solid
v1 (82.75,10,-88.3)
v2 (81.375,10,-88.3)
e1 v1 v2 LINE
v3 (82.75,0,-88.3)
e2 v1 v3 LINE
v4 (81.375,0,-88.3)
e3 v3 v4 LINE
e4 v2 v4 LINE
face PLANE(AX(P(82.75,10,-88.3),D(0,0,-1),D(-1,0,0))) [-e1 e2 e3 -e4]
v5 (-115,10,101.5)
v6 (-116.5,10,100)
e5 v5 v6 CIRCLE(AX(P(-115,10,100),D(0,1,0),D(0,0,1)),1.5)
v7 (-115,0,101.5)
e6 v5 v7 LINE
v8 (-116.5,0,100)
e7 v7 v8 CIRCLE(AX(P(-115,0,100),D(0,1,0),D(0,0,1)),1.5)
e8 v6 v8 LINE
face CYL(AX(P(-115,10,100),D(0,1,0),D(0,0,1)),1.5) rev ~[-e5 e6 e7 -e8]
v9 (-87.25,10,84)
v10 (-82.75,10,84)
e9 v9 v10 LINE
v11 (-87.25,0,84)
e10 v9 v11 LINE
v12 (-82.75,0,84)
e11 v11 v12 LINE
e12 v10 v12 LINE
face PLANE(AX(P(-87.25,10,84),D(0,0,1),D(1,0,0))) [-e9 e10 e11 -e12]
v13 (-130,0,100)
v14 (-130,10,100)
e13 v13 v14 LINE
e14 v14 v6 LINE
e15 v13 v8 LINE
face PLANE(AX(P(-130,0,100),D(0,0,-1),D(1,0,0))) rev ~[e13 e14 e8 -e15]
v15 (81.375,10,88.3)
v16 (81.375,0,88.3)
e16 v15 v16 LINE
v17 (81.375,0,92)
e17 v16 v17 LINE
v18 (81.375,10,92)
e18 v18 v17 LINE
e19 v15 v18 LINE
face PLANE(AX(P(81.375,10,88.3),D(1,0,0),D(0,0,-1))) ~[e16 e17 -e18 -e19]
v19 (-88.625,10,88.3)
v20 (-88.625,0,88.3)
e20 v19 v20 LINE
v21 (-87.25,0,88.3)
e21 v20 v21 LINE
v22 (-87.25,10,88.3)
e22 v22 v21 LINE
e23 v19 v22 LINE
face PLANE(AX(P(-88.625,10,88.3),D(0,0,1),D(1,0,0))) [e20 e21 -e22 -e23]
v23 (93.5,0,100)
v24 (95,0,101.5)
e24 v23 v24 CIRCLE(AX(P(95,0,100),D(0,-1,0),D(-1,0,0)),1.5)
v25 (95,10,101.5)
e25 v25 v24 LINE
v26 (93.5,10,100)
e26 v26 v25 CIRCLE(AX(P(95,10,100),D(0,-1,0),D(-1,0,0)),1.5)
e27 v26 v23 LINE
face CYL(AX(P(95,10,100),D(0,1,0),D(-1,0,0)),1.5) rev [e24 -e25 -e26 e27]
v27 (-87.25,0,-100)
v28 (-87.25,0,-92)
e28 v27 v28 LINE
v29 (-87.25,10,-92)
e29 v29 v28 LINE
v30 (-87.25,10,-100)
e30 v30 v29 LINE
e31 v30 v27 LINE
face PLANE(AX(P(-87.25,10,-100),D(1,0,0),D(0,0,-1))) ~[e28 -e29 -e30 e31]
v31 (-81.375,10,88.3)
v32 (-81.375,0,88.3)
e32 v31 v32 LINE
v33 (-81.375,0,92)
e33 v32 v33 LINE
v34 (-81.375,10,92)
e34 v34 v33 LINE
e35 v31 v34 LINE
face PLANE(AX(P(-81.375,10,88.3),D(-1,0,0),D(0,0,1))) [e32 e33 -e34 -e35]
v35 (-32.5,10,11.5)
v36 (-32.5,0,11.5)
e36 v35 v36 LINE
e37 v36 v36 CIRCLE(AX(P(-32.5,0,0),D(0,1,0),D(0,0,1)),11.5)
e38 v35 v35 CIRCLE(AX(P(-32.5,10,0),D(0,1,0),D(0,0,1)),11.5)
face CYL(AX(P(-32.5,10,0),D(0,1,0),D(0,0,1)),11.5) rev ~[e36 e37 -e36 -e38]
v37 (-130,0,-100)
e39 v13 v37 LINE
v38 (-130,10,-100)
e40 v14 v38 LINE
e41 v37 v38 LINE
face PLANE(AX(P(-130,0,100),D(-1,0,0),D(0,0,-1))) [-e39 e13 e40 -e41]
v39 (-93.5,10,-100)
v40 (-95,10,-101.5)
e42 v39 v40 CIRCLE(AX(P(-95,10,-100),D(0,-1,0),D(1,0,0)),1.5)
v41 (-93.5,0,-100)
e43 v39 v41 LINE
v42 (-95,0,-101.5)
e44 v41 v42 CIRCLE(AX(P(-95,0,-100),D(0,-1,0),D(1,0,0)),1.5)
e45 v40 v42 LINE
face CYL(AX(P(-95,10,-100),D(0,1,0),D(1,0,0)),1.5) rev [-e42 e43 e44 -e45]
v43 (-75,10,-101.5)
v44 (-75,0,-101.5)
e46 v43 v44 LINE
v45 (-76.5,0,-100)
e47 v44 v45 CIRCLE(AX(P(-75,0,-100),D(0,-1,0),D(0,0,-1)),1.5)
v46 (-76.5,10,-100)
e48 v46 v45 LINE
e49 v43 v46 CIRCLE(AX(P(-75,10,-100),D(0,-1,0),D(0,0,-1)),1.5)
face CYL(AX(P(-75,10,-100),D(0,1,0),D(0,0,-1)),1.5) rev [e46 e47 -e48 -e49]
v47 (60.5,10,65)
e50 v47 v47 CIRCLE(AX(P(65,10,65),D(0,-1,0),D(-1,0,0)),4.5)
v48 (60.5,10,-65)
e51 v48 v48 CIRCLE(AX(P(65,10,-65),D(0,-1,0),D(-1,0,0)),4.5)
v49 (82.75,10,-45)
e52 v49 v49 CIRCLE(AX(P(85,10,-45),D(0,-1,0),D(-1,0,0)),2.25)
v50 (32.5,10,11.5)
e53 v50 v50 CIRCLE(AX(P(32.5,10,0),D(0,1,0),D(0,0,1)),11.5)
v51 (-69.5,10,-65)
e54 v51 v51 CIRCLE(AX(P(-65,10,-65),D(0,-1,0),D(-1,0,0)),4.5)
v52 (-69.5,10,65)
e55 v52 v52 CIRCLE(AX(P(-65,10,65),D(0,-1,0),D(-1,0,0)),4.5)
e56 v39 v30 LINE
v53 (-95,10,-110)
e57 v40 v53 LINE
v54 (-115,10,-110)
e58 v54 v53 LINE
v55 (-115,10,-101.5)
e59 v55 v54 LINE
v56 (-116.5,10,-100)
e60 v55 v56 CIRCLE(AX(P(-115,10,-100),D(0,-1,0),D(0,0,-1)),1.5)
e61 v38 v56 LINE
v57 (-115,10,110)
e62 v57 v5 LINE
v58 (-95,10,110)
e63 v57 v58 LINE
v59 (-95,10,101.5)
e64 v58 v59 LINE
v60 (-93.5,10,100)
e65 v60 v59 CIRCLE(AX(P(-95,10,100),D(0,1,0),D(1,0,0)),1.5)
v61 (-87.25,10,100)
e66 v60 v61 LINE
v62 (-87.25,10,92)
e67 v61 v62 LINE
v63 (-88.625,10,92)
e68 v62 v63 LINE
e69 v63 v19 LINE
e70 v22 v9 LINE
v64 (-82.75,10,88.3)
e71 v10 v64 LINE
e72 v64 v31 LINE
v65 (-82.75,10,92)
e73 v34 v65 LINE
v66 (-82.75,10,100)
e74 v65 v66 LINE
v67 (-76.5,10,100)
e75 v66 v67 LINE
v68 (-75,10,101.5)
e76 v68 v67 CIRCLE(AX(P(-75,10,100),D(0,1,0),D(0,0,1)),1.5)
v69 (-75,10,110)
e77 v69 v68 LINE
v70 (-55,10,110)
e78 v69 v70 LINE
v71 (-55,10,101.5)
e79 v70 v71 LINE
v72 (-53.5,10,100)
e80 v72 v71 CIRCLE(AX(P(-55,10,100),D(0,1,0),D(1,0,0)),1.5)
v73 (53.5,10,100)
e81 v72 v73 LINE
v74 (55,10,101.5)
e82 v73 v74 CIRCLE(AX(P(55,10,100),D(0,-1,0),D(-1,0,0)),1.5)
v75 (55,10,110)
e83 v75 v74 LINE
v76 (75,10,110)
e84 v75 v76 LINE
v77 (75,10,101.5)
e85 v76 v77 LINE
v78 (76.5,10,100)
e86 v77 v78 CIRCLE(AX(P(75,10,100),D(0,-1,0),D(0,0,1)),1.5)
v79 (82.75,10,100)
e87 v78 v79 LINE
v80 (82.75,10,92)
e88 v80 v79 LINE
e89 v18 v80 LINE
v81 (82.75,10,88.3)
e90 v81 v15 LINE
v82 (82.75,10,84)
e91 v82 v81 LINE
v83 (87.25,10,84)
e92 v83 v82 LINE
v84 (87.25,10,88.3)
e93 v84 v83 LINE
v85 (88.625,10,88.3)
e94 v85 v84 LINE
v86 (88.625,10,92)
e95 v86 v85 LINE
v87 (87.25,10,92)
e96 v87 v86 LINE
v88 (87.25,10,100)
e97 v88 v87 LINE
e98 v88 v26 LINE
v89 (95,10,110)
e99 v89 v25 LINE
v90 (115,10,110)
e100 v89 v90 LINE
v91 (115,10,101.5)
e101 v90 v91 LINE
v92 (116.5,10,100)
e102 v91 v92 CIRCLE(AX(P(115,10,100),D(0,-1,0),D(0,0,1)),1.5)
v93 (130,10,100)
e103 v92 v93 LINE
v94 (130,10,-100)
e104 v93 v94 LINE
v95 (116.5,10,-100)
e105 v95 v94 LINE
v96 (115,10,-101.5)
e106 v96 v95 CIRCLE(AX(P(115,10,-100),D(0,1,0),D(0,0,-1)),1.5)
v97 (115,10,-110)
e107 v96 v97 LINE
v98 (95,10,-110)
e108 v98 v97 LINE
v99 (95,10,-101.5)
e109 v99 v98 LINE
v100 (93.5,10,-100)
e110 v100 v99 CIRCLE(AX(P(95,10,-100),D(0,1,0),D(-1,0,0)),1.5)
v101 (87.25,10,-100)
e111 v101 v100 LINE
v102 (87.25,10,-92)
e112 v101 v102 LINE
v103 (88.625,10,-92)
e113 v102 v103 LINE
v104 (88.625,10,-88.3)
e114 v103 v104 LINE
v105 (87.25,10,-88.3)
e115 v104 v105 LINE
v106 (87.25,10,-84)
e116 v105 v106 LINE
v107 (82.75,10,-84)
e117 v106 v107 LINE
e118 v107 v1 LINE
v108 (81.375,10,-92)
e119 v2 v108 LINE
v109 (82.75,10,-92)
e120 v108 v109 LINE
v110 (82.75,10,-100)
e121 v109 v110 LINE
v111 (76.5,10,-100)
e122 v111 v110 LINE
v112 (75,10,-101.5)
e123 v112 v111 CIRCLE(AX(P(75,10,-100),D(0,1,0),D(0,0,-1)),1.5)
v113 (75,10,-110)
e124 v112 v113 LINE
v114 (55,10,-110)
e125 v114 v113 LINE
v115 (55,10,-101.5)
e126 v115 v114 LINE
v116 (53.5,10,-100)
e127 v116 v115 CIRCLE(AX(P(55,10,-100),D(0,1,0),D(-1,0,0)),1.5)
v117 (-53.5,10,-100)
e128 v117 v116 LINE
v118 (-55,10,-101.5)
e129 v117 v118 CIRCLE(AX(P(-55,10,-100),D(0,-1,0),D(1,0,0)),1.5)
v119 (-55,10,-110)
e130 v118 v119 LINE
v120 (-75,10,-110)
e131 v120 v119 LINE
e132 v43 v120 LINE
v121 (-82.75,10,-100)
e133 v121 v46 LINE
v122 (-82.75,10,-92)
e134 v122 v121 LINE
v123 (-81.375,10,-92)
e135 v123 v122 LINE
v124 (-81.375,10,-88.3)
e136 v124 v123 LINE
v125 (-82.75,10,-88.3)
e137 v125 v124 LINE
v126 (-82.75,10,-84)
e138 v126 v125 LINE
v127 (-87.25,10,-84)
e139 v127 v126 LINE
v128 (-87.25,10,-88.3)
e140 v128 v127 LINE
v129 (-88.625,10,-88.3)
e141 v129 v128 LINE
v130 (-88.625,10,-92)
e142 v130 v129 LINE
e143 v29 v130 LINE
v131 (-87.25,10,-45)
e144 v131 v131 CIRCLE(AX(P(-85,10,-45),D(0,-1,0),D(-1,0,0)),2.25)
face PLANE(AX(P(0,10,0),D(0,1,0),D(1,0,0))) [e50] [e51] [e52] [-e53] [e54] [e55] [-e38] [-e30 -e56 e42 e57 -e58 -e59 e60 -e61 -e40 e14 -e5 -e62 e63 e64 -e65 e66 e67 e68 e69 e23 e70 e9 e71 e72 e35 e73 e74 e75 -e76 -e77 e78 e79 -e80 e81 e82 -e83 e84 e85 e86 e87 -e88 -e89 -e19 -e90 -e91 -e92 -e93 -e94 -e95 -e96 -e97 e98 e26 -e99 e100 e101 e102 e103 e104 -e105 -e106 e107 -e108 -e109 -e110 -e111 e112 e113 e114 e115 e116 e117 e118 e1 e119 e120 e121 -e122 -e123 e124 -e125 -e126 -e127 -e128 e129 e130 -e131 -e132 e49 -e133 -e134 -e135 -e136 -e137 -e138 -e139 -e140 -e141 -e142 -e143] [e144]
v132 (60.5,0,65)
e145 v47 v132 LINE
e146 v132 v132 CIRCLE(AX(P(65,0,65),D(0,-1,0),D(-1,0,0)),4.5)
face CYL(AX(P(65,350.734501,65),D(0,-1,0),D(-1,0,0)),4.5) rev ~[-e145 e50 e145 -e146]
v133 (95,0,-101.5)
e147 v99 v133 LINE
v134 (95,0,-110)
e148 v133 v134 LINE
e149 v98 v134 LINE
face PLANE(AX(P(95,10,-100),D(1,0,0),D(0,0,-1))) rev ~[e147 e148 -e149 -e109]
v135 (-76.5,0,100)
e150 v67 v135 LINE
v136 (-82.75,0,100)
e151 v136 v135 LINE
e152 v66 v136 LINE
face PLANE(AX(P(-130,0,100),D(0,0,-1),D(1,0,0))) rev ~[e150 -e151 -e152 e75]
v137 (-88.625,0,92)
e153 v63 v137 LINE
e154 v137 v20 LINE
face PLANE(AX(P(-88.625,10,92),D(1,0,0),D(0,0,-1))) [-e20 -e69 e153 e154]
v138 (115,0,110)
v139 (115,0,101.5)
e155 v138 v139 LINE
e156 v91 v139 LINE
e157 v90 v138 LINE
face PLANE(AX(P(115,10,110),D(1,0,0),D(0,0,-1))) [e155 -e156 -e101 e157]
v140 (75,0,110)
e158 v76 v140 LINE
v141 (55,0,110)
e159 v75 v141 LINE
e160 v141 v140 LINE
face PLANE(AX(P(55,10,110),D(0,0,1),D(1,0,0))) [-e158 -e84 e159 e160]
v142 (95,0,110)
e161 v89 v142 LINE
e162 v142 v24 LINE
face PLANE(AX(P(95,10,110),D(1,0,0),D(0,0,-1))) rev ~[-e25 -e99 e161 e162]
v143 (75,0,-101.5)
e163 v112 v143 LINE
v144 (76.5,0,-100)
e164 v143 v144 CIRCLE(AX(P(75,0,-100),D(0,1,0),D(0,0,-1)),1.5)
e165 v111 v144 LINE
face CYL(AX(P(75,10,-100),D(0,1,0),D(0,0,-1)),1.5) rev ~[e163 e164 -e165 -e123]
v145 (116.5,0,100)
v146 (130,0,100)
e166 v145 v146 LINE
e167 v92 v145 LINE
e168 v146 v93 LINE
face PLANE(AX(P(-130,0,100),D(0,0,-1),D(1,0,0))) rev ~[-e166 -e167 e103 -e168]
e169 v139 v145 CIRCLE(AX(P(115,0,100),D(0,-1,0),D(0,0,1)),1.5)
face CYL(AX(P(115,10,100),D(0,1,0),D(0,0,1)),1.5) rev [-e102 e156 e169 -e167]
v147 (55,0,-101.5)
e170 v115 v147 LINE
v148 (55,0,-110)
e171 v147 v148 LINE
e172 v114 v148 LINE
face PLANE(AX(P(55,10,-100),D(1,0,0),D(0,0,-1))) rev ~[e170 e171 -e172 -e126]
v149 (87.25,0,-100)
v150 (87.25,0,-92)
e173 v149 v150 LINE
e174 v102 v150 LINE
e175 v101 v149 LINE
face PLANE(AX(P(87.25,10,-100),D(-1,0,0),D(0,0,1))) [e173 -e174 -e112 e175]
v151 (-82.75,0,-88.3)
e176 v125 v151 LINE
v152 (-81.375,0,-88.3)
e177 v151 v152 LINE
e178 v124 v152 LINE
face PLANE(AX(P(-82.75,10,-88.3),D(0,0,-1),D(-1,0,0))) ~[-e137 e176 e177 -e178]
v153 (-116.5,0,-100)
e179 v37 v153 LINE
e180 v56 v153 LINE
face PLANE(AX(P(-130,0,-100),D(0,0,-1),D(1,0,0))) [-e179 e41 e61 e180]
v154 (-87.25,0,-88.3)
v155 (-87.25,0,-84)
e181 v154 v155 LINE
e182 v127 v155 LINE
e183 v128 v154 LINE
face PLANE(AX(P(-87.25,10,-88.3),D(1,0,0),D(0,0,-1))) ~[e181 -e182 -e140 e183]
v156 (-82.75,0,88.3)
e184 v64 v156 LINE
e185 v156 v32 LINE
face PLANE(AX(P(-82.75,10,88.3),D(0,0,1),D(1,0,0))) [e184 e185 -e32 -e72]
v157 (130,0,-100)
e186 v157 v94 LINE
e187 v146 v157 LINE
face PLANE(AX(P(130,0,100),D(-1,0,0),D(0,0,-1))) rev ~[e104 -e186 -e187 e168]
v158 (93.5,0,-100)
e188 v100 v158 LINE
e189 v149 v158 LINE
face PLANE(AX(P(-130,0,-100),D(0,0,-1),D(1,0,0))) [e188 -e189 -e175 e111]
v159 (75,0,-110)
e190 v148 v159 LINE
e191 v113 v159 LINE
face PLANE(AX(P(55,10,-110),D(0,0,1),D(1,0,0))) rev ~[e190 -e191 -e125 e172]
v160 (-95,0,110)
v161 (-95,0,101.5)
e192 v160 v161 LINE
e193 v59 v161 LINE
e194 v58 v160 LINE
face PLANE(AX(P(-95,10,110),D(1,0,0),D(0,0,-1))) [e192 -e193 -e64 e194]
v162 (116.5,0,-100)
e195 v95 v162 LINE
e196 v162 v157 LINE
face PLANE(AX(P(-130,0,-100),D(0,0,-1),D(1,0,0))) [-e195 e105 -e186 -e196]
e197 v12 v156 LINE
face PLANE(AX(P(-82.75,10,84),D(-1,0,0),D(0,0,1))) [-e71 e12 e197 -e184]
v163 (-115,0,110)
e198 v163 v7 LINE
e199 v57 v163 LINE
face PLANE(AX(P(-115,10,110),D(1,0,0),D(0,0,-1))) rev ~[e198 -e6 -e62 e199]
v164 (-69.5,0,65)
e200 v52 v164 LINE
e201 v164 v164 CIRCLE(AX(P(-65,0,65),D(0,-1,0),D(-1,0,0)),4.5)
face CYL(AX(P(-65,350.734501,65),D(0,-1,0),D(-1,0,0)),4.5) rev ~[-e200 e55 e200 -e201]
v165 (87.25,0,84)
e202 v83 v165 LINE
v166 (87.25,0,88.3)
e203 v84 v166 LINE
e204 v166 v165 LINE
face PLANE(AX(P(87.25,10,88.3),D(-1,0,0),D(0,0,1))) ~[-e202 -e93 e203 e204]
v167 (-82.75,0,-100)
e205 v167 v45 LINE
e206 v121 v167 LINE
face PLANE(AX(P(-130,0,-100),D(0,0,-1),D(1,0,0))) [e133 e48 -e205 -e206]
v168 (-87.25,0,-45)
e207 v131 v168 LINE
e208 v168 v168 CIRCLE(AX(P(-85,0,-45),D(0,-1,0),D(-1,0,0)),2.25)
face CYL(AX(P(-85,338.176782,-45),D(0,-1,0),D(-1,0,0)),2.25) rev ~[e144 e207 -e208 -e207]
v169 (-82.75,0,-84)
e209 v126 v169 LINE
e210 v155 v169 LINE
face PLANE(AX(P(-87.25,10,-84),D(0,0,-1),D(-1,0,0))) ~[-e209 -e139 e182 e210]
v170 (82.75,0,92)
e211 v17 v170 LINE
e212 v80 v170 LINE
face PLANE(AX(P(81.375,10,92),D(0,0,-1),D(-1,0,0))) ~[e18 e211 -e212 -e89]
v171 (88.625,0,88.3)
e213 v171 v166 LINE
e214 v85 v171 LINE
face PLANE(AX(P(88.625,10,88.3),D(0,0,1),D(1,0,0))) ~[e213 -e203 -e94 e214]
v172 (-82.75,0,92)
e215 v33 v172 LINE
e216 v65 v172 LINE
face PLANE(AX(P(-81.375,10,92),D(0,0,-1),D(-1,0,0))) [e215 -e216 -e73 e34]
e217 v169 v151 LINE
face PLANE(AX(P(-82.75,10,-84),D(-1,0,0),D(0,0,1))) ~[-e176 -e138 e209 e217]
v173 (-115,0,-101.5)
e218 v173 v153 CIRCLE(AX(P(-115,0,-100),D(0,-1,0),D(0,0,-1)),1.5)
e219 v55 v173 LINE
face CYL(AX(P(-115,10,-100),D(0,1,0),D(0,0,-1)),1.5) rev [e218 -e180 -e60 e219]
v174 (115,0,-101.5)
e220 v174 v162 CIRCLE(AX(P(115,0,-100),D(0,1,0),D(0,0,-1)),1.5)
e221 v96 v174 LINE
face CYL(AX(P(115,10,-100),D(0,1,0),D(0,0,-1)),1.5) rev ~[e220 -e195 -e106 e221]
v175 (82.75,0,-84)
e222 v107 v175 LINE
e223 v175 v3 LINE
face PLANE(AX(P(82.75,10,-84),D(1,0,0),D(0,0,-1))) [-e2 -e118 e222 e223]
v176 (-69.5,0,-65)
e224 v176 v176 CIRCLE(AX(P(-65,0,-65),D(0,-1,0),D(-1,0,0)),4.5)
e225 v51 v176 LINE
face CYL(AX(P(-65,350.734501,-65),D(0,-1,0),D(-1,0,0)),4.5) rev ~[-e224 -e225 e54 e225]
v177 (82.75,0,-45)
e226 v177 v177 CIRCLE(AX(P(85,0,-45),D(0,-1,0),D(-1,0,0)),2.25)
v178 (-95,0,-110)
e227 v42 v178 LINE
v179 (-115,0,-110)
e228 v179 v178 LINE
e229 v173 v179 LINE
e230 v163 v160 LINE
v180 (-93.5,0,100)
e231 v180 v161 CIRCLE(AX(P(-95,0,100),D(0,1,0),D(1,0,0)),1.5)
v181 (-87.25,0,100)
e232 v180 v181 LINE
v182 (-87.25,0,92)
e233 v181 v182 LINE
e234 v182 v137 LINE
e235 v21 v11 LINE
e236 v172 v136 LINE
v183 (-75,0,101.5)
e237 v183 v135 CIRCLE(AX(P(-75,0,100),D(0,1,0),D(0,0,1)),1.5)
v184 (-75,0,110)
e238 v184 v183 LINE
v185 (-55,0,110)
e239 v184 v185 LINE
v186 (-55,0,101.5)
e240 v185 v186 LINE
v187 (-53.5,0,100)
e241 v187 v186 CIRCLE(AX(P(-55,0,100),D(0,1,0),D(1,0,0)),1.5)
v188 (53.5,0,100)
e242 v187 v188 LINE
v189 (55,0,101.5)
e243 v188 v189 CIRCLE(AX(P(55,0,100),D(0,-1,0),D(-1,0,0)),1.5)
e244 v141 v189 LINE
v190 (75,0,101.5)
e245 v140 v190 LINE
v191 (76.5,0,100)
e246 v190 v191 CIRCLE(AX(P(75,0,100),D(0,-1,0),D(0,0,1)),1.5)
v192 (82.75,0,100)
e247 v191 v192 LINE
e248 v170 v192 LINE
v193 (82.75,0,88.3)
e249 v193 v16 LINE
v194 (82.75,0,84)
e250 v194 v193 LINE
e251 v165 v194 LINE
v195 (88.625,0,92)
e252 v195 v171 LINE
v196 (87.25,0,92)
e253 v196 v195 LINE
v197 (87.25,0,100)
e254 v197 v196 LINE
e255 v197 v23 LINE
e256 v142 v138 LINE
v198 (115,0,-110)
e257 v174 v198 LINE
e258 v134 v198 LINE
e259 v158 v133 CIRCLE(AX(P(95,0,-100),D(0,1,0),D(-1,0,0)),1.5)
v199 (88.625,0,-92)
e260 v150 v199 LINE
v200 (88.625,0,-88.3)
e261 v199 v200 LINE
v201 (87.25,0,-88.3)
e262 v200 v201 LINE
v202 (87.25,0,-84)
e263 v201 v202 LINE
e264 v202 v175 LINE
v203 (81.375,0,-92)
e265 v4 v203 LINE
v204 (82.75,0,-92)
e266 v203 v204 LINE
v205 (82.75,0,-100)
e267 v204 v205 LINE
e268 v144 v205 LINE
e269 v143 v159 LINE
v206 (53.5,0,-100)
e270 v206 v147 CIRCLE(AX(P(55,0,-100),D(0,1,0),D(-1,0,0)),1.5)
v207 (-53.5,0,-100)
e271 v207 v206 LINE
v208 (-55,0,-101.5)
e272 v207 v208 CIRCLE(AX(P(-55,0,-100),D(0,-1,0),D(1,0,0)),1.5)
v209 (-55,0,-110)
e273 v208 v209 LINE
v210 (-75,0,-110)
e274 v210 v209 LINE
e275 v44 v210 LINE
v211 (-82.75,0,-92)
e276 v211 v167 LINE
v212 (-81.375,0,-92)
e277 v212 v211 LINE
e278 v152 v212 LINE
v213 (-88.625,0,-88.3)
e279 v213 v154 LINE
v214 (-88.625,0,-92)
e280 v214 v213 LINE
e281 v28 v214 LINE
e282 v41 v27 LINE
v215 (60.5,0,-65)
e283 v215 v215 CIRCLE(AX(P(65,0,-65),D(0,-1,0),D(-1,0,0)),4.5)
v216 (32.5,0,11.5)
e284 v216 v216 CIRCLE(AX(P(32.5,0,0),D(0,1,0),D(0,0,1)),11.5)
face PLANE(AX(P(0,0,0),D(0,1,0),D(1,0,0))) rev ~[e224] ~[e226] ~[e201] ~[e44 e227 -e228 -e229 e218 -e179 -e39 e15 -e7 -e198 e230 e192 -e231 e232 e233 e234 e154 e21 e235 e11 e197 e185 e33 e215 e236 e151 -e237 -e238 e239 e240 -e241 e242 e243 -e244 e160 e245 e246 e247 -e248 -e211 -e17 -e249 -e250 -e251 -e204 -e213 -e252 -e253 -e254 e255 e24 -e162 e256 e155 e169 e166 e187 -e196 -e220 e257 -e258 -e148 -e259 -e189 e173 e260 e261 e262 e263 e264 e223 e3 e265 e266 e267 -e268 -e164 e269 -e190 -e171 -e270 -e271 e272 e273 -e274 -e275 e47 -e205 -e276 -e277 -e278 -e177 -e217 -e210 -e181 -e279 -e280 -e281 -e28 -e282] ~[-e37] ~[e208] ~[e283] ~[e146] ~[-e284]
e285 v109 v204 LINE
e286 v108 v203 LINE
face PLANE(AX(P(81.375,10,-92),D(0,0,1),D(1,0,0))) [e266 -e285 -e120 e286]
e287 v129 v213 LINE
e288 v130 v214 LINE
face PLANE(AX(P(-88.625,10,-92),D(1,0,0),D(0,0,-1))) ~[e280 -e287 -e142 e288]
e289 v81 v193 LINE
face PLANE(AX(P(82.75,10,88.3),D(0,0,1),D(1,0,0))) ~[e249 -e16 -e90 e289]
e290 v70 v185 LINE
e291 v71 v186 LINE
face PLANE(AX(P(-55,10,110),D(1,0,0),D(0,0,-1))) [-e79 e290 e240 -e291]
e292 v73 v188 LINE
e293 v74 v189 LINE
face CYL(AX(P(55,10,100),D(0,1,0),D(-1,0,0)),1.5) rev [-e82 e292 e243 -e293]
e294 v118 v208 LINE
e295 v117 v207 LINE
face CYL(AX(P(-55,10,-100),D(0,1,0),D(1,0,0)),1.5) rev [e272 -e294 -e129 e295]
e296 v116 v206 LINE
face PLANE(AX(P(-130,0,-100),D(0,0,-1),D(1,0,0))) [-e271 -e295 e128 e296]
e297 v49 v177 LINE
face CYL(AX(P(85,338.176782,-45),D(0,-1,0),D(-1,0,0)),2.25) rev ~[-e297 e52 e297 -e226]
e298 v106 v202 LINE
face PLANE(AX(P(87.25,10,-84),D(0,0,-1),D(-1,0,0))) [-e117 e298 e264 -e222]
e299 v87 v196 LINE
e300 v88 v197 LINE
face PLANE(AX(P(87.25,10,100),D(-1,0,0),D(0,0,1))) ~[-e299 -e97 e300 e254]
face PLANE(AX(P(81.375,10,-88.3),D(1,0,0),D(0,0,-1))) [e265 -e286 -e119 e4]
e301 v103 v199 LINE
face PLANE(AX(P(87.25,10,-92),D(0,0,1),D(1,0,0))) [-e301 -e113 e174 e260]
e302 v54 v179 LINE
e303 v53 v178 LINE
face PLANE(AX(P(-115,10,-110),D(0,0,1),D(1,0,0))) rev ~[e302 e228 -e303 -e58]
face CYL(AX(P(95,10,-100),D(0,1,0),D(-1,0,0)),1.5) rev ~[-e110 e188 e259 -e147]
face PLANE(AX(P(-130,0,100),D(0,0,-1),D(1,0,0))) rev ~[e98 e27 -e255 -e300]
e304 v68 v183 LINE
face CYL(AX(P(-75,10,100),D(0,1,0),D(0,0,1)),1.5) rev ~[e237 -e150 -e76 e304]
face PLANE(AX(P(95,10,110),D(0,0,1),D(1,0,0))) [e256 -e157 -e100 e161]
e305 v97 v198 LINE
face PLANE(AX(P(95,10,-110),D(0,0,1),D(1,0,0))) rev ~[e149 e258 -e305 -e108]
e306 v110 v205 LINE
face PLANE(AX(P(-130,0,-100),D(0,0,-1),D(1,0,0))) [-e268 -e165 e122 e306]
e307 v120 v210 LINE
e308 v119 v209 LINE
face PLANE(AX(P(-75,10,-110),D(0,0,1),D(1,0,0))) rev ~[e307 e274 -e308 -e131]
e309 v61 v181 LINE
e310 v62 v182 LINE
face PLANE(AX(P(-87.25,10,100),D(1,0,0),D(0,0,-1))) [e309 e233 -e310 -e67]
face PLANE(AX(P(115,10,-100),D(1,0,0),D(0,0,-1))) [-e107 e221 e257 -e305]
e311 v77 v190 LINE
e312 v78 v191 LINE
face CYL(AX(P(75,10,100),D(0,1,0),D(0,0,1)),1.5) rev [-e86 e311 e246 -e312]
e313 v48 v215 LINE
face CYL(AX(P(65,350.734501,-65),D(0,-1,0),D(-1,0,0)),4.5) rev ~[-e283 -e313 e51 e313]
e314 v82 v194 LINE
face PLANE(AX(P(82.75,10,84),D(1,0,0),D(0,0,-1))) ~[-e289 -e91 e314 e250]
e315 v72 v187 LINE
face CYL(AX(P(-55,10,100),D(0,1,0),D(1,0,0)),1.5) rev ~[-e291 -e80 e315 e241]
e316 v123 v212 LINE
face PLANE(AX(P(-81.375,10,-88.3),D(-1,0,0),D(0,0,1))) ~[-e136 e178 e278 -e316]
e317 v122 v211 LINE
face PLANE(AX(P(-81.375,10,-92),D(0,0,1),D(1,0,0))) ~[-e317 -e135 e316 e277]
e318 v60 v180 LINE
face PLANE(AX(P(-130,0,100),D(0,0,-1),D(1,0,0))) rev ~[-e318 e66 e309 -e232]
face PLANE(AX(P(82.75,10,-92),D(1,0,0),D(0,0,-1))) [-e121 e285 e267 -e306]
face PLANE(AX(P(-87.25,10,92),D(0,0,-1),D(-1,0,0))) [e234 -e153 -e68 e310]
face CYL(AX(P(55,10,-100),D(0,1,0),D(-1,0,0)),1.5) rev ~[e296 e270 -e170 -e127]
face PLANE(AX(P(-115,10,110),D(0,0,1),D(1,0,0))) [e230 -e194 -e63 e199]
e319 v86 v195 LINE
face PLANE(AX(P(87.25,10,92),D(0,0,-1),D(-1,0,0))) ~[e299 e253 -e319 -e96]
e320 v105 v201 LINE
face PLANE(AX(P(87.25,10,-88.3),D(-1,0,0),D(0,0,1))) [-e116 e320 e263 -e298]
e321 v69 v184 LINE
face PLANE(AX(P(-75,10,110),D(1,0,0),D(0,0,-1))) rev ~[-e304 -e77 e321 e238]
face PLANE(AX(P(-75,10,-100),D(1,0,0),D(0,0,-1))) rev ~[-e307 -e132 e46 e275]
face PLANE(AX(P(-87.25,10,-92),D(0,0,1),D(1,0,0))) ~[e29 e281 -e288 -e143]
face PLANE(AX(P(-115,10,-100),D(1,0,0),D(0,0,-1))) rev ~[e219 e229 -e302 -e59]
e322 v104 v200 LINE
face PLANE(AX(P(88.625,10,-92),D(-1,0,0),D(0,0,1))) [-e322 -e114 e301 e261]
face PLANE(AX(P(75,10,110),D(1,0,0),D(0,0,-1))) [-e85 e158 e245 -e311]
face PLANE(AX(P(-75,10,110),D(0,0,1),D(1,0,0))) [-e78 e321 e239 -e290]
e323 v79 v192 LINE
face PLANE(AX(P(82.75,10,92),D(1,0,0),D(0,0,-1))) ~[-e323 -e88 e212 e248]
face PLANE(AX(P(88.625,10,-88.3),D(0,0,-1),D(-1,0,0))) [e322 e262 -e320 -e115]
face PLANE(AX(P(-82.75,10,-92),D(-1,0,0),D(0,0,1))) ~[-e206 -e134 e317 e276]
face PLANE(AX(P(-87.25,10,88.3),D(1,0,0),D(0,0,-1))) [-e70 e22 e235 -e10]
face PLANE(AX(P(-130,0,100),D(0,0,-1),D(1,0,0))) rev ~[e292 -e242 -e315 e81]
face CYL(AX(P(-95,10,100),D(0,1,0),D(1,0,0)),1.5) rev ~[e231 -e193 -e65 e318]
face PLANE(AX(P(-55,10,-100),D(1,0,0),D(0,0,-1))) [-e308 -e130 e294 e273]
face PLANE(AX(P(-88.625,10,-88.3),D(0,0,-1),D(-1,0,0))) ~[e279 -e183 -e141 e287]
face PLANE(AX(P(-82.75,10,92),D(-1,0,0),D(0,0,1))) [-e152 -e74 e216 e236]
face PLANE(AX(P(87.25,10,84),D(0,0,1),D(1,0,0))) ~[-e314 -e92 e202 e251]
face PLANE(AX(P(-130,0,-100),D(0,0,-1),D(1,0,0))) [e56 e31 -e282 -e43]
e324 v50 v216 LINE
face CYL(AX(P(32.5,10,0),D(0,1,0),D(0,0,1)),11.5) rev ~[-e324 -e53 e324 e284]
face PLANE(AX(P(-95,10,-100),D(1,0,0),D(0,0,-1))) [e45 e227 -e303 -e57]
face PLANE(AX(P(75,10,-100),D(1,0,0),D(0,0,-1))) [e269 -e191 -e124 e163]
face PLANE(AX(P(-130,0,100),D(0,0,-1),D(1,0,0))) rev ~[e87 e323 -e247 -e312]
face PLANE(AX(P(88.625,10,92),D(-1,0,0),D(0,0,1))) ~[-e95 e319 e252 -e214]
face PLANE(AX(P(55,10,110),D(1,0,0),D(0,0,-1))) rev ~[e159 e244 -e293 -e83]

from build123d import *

# Parameters (mm, degrees)
SKETCH1_W            = 260
SKETCH1_H            = 200
EXTRUDE1_DEPTH       = 10
M4_CLEARANCE_HOLE1_D = 4.5
SKETCH7_W            = 20
SKETCH7_H            = 10
EXTRUDE4_DEPTH       = 10
LPATTERN1_COUNT      = 2
LPATTERN1_PITCH      = 170
LPATTERN1_COUNT_DIR2 = 2
LPATTERN1_PITCH_DIR2 = 210
EXTRUDE5_DEPTH       = 10
MIRROR5_COPY_1_DEPTH = 10
EXTRUDE6_DEPTH       = 10
MIRROR7_COPY_1_DEPTH = 10
SKETCH10_R           = 11.5
EXTRUDE7_DEPTH       = 10
M8_CLEARANCE_HOLE1_D = 9


with BuildPart() as part:
    # Sketch1 → Extrude1 (new body)
    with BuildSketch(Plane(origin=(0, 0, 0), x_dir=(1, 0, 0), z_dir=(0, 1, 0))):
        Rectangle(SKETCH1_W, SKETCH1_H)
    extrude(amount=EXTRUDE1_DEPTH)

    # M4 Clearance Hole1 (through all)
    with Locations(Plane(origin=(0, 10, 0), x_dir=(1, 0, 0), z_dir=(0, 1, 0))):
        with Locations((-85, 45), (85, 45)):
            Hole(M4_CLEARANCE_HOLE1_D / 2)

    # Sketch7 → Extrude4 (add)
    with BuildSketch(Plane(origin=(0, 10, 0), x_dir=(1, 0, 0), z_dir=(0, 1, 0))):
        with Locations((-105, -105)):
            Rectangle(SKETCH7_W, SKETCH7_H)
        with Locations((-65, -105)):
            Rectangle(SKETCH7_W, SKETCH7_H)
    extrude4 = extrude(amount=-EXTRUDE4_DEPTH)

    # LPattern1: Extrude4 2 × 2
    with Locations(*[(i * LPATTERN1_PITCH, 0, -j * LPATTERN1_PITCH_DIR2) for i in range(LPATTERN1_COUNT) for j in range(LPATTERN1_COUNT_DIR2) if (i, j) != (0, 0)]):
        add(extrude4)

    # Sketch8 → Extrude5 (cut)
    with BuildSketch(Plane(origin=(0, 10, 0), x_dir=(1, 0, 0), z_dir=(0, 1, 0))):
        with BuildLine():
            Line((-116.5, -100), (-115, -100))
            Line((-115, -100), (-115, -101.5))
            ThreePointArc((-115, -101.5), (-113.939339828, -98.939339828), (-116.5, -100))
        make_face()
        with BuildLine():
            Line((-95, -101.5), (-95, -100))
            Line((-95, -100), (-93.5, -100))
            ThreePointArc((-93.5, -100), (-96.060660172, -98.939339828), (-95, -101.5))
        make_face()
        with BuildLine():
            Line((-75, -100), (-75, -101.5))
            ThreePointArc((-75, -101.5), (-73.939339828, -98.939339828), (-76.5, -100))
            Line((-76.5, -100), (-75, -100))
        make_face()
        with BuildLine():
            Line((-55, -101.5), (-55, -100))
            Line((-55, -100), (-53.5, -100))
            ThreePointArc((-53.5, -100), (-56.060660172, -98.939339828), (-55, -101.5))
        make_face()
    extrude5 = extrude(amount=-EXTRUDE5_DEPTH, mode=Mode.SUBTRACT)

    # Mirror4: Extrude5 across plane
    add(extrude5.mirror(Plane(origin=(0, 0, 0), x_dir=(0, 0, 1), z_dir=(1, 0, 0))), mode=Mode.SUBTRACT)

    # Mirror5: Extrude5 across plane
    add(extrude5.mirror(Plane.XY), mode=Mode.SUBTRACT)

    # Mirror5 copy 1 sketch → Mirror5 copy 1 (cut)
    with BuildSketch(Plane(origin=(0, 10, 0), x_dir=(-1, 0, 0), z_dir=(0, 1, 0))):
        with BuildLine():
            Line((-116.5, -100), (-115, -100))
            Line((-115, -100), (-115, -101.5))
            ThreePointArc((-115, -101.5), (-113.939339828, -98.939339828), (-116.5, -100))
        make_face()
        with BuildLine():
            Line((-95, -101.5), (-95, -100))
            Line((-95, -100), (-93.5, -100))
            ThreePointArc((-93.5, -100), (-96.060660172, -98.939339828), (-95, -101.5))
        make_face()
        with BuildLine():
            Line((-75, -100), (-75, -101.5))
            ThreePointArc((-75, -101.5), (-73.939339828, -98.939339828), (-76.5, -100))
            Line((-76.5, -100), (-75, -100))
        make_face()
        with BuildLine():
            Line((-55, -101.5), (-55, -100))
            Line((-55, -100), (-53.5, -100))
            ThreePointArc((-53.5, -100), (-56.060660172, -98.939339828), (-55, -101.5))
        make_face()
    extrude(amount=-MIRROR5_COPY_1_DEPTH, mode=Mode.SUBTRACT)

    # Sketch9 → Extrude6 (cut)
    with BuildSketch(Plane(origin=(0, 10, 0), x_dir=(1, 0, 0), z_dir=(0, 1, 0))):
        Polygon((-87.25, -100), (-87.25, -92), (-88.625, -92), (-88.625, -88.3), (-87.25, -88.3), (-87.25, -84), (-82.75, -84), (-82.75, -88.3), (-81.375, -88.3), (-81.375, -92), (-82.75, -92), (-82.75, -100), align=None)
    extrude6 = extrude(amount=-EXTRUDE6_DEPTH, mode=Mode.SUBTRACT)

    # Mirror6: Extrude6 across plane
    add(extrude6.mirror(Plane(origin=(0, 0, 0), x_dir=(0, 0, 1), z_dir=(1, 0, 0))), mode=Mode.SUBTRACT)

    # Mirror7: Extrude6 across plane
    add(extrude6.mirror(Plane.XY), mode=Mode.SUBTRACT)

    # Mirror7 copy 1 sketch → Mirror7 copy 1 (cut)
    with BuildSketch(Plane(origin=(0, 10, 0), x_dir=(-1, 0, 0), z_dir=(0, 1, 0))):
        Polygon((-87.25, -100), (-87.25, -92), (-88.625, -92), (-88.625, -88.3), (-87.25, -88.3), (-87.25, -84), (-82.75, -84), (-82.75, -88.3), (-81.375, -88.3), (-81.375, -92), (-82.75, -92), (-82.75, -100), align=None)
    extrude(amount=-MIRROR7_COPY_1_DEPTH, mode=Mode.SUBTRACT)

    # Sketch10 → Extrude7 (cut)
    with BuildSketch(Plane(origin=(0, 10, 0), x_dir=(1, 0, 0), z_dir=(0, 1, 0))):
        with Locations(Location((-32.5, 0, 0), (0, 0, 270))):
            Circle(SKETCH10_R)
        with Locations(Location((32.5, 0, 0), (0, 0, 270))):
            Circle(SKETCH10_R)
    extrude(amount=-EXTRUDE7_DEPTH, mode=Mode.SUBTRACT)

    # M8 Clearance Hole1 (through all)
    with Locations(Plane(origin=(0, 10, 0), x_dir=(1, 0, 0), z_dir=(0, 1, 0))):
        with Locations((-65, 65), (65, 65), (65, -65), (-65, -65)):
            Hole(M8_CLEARANCE_HOLE1_D / 2)


solid = part.part
